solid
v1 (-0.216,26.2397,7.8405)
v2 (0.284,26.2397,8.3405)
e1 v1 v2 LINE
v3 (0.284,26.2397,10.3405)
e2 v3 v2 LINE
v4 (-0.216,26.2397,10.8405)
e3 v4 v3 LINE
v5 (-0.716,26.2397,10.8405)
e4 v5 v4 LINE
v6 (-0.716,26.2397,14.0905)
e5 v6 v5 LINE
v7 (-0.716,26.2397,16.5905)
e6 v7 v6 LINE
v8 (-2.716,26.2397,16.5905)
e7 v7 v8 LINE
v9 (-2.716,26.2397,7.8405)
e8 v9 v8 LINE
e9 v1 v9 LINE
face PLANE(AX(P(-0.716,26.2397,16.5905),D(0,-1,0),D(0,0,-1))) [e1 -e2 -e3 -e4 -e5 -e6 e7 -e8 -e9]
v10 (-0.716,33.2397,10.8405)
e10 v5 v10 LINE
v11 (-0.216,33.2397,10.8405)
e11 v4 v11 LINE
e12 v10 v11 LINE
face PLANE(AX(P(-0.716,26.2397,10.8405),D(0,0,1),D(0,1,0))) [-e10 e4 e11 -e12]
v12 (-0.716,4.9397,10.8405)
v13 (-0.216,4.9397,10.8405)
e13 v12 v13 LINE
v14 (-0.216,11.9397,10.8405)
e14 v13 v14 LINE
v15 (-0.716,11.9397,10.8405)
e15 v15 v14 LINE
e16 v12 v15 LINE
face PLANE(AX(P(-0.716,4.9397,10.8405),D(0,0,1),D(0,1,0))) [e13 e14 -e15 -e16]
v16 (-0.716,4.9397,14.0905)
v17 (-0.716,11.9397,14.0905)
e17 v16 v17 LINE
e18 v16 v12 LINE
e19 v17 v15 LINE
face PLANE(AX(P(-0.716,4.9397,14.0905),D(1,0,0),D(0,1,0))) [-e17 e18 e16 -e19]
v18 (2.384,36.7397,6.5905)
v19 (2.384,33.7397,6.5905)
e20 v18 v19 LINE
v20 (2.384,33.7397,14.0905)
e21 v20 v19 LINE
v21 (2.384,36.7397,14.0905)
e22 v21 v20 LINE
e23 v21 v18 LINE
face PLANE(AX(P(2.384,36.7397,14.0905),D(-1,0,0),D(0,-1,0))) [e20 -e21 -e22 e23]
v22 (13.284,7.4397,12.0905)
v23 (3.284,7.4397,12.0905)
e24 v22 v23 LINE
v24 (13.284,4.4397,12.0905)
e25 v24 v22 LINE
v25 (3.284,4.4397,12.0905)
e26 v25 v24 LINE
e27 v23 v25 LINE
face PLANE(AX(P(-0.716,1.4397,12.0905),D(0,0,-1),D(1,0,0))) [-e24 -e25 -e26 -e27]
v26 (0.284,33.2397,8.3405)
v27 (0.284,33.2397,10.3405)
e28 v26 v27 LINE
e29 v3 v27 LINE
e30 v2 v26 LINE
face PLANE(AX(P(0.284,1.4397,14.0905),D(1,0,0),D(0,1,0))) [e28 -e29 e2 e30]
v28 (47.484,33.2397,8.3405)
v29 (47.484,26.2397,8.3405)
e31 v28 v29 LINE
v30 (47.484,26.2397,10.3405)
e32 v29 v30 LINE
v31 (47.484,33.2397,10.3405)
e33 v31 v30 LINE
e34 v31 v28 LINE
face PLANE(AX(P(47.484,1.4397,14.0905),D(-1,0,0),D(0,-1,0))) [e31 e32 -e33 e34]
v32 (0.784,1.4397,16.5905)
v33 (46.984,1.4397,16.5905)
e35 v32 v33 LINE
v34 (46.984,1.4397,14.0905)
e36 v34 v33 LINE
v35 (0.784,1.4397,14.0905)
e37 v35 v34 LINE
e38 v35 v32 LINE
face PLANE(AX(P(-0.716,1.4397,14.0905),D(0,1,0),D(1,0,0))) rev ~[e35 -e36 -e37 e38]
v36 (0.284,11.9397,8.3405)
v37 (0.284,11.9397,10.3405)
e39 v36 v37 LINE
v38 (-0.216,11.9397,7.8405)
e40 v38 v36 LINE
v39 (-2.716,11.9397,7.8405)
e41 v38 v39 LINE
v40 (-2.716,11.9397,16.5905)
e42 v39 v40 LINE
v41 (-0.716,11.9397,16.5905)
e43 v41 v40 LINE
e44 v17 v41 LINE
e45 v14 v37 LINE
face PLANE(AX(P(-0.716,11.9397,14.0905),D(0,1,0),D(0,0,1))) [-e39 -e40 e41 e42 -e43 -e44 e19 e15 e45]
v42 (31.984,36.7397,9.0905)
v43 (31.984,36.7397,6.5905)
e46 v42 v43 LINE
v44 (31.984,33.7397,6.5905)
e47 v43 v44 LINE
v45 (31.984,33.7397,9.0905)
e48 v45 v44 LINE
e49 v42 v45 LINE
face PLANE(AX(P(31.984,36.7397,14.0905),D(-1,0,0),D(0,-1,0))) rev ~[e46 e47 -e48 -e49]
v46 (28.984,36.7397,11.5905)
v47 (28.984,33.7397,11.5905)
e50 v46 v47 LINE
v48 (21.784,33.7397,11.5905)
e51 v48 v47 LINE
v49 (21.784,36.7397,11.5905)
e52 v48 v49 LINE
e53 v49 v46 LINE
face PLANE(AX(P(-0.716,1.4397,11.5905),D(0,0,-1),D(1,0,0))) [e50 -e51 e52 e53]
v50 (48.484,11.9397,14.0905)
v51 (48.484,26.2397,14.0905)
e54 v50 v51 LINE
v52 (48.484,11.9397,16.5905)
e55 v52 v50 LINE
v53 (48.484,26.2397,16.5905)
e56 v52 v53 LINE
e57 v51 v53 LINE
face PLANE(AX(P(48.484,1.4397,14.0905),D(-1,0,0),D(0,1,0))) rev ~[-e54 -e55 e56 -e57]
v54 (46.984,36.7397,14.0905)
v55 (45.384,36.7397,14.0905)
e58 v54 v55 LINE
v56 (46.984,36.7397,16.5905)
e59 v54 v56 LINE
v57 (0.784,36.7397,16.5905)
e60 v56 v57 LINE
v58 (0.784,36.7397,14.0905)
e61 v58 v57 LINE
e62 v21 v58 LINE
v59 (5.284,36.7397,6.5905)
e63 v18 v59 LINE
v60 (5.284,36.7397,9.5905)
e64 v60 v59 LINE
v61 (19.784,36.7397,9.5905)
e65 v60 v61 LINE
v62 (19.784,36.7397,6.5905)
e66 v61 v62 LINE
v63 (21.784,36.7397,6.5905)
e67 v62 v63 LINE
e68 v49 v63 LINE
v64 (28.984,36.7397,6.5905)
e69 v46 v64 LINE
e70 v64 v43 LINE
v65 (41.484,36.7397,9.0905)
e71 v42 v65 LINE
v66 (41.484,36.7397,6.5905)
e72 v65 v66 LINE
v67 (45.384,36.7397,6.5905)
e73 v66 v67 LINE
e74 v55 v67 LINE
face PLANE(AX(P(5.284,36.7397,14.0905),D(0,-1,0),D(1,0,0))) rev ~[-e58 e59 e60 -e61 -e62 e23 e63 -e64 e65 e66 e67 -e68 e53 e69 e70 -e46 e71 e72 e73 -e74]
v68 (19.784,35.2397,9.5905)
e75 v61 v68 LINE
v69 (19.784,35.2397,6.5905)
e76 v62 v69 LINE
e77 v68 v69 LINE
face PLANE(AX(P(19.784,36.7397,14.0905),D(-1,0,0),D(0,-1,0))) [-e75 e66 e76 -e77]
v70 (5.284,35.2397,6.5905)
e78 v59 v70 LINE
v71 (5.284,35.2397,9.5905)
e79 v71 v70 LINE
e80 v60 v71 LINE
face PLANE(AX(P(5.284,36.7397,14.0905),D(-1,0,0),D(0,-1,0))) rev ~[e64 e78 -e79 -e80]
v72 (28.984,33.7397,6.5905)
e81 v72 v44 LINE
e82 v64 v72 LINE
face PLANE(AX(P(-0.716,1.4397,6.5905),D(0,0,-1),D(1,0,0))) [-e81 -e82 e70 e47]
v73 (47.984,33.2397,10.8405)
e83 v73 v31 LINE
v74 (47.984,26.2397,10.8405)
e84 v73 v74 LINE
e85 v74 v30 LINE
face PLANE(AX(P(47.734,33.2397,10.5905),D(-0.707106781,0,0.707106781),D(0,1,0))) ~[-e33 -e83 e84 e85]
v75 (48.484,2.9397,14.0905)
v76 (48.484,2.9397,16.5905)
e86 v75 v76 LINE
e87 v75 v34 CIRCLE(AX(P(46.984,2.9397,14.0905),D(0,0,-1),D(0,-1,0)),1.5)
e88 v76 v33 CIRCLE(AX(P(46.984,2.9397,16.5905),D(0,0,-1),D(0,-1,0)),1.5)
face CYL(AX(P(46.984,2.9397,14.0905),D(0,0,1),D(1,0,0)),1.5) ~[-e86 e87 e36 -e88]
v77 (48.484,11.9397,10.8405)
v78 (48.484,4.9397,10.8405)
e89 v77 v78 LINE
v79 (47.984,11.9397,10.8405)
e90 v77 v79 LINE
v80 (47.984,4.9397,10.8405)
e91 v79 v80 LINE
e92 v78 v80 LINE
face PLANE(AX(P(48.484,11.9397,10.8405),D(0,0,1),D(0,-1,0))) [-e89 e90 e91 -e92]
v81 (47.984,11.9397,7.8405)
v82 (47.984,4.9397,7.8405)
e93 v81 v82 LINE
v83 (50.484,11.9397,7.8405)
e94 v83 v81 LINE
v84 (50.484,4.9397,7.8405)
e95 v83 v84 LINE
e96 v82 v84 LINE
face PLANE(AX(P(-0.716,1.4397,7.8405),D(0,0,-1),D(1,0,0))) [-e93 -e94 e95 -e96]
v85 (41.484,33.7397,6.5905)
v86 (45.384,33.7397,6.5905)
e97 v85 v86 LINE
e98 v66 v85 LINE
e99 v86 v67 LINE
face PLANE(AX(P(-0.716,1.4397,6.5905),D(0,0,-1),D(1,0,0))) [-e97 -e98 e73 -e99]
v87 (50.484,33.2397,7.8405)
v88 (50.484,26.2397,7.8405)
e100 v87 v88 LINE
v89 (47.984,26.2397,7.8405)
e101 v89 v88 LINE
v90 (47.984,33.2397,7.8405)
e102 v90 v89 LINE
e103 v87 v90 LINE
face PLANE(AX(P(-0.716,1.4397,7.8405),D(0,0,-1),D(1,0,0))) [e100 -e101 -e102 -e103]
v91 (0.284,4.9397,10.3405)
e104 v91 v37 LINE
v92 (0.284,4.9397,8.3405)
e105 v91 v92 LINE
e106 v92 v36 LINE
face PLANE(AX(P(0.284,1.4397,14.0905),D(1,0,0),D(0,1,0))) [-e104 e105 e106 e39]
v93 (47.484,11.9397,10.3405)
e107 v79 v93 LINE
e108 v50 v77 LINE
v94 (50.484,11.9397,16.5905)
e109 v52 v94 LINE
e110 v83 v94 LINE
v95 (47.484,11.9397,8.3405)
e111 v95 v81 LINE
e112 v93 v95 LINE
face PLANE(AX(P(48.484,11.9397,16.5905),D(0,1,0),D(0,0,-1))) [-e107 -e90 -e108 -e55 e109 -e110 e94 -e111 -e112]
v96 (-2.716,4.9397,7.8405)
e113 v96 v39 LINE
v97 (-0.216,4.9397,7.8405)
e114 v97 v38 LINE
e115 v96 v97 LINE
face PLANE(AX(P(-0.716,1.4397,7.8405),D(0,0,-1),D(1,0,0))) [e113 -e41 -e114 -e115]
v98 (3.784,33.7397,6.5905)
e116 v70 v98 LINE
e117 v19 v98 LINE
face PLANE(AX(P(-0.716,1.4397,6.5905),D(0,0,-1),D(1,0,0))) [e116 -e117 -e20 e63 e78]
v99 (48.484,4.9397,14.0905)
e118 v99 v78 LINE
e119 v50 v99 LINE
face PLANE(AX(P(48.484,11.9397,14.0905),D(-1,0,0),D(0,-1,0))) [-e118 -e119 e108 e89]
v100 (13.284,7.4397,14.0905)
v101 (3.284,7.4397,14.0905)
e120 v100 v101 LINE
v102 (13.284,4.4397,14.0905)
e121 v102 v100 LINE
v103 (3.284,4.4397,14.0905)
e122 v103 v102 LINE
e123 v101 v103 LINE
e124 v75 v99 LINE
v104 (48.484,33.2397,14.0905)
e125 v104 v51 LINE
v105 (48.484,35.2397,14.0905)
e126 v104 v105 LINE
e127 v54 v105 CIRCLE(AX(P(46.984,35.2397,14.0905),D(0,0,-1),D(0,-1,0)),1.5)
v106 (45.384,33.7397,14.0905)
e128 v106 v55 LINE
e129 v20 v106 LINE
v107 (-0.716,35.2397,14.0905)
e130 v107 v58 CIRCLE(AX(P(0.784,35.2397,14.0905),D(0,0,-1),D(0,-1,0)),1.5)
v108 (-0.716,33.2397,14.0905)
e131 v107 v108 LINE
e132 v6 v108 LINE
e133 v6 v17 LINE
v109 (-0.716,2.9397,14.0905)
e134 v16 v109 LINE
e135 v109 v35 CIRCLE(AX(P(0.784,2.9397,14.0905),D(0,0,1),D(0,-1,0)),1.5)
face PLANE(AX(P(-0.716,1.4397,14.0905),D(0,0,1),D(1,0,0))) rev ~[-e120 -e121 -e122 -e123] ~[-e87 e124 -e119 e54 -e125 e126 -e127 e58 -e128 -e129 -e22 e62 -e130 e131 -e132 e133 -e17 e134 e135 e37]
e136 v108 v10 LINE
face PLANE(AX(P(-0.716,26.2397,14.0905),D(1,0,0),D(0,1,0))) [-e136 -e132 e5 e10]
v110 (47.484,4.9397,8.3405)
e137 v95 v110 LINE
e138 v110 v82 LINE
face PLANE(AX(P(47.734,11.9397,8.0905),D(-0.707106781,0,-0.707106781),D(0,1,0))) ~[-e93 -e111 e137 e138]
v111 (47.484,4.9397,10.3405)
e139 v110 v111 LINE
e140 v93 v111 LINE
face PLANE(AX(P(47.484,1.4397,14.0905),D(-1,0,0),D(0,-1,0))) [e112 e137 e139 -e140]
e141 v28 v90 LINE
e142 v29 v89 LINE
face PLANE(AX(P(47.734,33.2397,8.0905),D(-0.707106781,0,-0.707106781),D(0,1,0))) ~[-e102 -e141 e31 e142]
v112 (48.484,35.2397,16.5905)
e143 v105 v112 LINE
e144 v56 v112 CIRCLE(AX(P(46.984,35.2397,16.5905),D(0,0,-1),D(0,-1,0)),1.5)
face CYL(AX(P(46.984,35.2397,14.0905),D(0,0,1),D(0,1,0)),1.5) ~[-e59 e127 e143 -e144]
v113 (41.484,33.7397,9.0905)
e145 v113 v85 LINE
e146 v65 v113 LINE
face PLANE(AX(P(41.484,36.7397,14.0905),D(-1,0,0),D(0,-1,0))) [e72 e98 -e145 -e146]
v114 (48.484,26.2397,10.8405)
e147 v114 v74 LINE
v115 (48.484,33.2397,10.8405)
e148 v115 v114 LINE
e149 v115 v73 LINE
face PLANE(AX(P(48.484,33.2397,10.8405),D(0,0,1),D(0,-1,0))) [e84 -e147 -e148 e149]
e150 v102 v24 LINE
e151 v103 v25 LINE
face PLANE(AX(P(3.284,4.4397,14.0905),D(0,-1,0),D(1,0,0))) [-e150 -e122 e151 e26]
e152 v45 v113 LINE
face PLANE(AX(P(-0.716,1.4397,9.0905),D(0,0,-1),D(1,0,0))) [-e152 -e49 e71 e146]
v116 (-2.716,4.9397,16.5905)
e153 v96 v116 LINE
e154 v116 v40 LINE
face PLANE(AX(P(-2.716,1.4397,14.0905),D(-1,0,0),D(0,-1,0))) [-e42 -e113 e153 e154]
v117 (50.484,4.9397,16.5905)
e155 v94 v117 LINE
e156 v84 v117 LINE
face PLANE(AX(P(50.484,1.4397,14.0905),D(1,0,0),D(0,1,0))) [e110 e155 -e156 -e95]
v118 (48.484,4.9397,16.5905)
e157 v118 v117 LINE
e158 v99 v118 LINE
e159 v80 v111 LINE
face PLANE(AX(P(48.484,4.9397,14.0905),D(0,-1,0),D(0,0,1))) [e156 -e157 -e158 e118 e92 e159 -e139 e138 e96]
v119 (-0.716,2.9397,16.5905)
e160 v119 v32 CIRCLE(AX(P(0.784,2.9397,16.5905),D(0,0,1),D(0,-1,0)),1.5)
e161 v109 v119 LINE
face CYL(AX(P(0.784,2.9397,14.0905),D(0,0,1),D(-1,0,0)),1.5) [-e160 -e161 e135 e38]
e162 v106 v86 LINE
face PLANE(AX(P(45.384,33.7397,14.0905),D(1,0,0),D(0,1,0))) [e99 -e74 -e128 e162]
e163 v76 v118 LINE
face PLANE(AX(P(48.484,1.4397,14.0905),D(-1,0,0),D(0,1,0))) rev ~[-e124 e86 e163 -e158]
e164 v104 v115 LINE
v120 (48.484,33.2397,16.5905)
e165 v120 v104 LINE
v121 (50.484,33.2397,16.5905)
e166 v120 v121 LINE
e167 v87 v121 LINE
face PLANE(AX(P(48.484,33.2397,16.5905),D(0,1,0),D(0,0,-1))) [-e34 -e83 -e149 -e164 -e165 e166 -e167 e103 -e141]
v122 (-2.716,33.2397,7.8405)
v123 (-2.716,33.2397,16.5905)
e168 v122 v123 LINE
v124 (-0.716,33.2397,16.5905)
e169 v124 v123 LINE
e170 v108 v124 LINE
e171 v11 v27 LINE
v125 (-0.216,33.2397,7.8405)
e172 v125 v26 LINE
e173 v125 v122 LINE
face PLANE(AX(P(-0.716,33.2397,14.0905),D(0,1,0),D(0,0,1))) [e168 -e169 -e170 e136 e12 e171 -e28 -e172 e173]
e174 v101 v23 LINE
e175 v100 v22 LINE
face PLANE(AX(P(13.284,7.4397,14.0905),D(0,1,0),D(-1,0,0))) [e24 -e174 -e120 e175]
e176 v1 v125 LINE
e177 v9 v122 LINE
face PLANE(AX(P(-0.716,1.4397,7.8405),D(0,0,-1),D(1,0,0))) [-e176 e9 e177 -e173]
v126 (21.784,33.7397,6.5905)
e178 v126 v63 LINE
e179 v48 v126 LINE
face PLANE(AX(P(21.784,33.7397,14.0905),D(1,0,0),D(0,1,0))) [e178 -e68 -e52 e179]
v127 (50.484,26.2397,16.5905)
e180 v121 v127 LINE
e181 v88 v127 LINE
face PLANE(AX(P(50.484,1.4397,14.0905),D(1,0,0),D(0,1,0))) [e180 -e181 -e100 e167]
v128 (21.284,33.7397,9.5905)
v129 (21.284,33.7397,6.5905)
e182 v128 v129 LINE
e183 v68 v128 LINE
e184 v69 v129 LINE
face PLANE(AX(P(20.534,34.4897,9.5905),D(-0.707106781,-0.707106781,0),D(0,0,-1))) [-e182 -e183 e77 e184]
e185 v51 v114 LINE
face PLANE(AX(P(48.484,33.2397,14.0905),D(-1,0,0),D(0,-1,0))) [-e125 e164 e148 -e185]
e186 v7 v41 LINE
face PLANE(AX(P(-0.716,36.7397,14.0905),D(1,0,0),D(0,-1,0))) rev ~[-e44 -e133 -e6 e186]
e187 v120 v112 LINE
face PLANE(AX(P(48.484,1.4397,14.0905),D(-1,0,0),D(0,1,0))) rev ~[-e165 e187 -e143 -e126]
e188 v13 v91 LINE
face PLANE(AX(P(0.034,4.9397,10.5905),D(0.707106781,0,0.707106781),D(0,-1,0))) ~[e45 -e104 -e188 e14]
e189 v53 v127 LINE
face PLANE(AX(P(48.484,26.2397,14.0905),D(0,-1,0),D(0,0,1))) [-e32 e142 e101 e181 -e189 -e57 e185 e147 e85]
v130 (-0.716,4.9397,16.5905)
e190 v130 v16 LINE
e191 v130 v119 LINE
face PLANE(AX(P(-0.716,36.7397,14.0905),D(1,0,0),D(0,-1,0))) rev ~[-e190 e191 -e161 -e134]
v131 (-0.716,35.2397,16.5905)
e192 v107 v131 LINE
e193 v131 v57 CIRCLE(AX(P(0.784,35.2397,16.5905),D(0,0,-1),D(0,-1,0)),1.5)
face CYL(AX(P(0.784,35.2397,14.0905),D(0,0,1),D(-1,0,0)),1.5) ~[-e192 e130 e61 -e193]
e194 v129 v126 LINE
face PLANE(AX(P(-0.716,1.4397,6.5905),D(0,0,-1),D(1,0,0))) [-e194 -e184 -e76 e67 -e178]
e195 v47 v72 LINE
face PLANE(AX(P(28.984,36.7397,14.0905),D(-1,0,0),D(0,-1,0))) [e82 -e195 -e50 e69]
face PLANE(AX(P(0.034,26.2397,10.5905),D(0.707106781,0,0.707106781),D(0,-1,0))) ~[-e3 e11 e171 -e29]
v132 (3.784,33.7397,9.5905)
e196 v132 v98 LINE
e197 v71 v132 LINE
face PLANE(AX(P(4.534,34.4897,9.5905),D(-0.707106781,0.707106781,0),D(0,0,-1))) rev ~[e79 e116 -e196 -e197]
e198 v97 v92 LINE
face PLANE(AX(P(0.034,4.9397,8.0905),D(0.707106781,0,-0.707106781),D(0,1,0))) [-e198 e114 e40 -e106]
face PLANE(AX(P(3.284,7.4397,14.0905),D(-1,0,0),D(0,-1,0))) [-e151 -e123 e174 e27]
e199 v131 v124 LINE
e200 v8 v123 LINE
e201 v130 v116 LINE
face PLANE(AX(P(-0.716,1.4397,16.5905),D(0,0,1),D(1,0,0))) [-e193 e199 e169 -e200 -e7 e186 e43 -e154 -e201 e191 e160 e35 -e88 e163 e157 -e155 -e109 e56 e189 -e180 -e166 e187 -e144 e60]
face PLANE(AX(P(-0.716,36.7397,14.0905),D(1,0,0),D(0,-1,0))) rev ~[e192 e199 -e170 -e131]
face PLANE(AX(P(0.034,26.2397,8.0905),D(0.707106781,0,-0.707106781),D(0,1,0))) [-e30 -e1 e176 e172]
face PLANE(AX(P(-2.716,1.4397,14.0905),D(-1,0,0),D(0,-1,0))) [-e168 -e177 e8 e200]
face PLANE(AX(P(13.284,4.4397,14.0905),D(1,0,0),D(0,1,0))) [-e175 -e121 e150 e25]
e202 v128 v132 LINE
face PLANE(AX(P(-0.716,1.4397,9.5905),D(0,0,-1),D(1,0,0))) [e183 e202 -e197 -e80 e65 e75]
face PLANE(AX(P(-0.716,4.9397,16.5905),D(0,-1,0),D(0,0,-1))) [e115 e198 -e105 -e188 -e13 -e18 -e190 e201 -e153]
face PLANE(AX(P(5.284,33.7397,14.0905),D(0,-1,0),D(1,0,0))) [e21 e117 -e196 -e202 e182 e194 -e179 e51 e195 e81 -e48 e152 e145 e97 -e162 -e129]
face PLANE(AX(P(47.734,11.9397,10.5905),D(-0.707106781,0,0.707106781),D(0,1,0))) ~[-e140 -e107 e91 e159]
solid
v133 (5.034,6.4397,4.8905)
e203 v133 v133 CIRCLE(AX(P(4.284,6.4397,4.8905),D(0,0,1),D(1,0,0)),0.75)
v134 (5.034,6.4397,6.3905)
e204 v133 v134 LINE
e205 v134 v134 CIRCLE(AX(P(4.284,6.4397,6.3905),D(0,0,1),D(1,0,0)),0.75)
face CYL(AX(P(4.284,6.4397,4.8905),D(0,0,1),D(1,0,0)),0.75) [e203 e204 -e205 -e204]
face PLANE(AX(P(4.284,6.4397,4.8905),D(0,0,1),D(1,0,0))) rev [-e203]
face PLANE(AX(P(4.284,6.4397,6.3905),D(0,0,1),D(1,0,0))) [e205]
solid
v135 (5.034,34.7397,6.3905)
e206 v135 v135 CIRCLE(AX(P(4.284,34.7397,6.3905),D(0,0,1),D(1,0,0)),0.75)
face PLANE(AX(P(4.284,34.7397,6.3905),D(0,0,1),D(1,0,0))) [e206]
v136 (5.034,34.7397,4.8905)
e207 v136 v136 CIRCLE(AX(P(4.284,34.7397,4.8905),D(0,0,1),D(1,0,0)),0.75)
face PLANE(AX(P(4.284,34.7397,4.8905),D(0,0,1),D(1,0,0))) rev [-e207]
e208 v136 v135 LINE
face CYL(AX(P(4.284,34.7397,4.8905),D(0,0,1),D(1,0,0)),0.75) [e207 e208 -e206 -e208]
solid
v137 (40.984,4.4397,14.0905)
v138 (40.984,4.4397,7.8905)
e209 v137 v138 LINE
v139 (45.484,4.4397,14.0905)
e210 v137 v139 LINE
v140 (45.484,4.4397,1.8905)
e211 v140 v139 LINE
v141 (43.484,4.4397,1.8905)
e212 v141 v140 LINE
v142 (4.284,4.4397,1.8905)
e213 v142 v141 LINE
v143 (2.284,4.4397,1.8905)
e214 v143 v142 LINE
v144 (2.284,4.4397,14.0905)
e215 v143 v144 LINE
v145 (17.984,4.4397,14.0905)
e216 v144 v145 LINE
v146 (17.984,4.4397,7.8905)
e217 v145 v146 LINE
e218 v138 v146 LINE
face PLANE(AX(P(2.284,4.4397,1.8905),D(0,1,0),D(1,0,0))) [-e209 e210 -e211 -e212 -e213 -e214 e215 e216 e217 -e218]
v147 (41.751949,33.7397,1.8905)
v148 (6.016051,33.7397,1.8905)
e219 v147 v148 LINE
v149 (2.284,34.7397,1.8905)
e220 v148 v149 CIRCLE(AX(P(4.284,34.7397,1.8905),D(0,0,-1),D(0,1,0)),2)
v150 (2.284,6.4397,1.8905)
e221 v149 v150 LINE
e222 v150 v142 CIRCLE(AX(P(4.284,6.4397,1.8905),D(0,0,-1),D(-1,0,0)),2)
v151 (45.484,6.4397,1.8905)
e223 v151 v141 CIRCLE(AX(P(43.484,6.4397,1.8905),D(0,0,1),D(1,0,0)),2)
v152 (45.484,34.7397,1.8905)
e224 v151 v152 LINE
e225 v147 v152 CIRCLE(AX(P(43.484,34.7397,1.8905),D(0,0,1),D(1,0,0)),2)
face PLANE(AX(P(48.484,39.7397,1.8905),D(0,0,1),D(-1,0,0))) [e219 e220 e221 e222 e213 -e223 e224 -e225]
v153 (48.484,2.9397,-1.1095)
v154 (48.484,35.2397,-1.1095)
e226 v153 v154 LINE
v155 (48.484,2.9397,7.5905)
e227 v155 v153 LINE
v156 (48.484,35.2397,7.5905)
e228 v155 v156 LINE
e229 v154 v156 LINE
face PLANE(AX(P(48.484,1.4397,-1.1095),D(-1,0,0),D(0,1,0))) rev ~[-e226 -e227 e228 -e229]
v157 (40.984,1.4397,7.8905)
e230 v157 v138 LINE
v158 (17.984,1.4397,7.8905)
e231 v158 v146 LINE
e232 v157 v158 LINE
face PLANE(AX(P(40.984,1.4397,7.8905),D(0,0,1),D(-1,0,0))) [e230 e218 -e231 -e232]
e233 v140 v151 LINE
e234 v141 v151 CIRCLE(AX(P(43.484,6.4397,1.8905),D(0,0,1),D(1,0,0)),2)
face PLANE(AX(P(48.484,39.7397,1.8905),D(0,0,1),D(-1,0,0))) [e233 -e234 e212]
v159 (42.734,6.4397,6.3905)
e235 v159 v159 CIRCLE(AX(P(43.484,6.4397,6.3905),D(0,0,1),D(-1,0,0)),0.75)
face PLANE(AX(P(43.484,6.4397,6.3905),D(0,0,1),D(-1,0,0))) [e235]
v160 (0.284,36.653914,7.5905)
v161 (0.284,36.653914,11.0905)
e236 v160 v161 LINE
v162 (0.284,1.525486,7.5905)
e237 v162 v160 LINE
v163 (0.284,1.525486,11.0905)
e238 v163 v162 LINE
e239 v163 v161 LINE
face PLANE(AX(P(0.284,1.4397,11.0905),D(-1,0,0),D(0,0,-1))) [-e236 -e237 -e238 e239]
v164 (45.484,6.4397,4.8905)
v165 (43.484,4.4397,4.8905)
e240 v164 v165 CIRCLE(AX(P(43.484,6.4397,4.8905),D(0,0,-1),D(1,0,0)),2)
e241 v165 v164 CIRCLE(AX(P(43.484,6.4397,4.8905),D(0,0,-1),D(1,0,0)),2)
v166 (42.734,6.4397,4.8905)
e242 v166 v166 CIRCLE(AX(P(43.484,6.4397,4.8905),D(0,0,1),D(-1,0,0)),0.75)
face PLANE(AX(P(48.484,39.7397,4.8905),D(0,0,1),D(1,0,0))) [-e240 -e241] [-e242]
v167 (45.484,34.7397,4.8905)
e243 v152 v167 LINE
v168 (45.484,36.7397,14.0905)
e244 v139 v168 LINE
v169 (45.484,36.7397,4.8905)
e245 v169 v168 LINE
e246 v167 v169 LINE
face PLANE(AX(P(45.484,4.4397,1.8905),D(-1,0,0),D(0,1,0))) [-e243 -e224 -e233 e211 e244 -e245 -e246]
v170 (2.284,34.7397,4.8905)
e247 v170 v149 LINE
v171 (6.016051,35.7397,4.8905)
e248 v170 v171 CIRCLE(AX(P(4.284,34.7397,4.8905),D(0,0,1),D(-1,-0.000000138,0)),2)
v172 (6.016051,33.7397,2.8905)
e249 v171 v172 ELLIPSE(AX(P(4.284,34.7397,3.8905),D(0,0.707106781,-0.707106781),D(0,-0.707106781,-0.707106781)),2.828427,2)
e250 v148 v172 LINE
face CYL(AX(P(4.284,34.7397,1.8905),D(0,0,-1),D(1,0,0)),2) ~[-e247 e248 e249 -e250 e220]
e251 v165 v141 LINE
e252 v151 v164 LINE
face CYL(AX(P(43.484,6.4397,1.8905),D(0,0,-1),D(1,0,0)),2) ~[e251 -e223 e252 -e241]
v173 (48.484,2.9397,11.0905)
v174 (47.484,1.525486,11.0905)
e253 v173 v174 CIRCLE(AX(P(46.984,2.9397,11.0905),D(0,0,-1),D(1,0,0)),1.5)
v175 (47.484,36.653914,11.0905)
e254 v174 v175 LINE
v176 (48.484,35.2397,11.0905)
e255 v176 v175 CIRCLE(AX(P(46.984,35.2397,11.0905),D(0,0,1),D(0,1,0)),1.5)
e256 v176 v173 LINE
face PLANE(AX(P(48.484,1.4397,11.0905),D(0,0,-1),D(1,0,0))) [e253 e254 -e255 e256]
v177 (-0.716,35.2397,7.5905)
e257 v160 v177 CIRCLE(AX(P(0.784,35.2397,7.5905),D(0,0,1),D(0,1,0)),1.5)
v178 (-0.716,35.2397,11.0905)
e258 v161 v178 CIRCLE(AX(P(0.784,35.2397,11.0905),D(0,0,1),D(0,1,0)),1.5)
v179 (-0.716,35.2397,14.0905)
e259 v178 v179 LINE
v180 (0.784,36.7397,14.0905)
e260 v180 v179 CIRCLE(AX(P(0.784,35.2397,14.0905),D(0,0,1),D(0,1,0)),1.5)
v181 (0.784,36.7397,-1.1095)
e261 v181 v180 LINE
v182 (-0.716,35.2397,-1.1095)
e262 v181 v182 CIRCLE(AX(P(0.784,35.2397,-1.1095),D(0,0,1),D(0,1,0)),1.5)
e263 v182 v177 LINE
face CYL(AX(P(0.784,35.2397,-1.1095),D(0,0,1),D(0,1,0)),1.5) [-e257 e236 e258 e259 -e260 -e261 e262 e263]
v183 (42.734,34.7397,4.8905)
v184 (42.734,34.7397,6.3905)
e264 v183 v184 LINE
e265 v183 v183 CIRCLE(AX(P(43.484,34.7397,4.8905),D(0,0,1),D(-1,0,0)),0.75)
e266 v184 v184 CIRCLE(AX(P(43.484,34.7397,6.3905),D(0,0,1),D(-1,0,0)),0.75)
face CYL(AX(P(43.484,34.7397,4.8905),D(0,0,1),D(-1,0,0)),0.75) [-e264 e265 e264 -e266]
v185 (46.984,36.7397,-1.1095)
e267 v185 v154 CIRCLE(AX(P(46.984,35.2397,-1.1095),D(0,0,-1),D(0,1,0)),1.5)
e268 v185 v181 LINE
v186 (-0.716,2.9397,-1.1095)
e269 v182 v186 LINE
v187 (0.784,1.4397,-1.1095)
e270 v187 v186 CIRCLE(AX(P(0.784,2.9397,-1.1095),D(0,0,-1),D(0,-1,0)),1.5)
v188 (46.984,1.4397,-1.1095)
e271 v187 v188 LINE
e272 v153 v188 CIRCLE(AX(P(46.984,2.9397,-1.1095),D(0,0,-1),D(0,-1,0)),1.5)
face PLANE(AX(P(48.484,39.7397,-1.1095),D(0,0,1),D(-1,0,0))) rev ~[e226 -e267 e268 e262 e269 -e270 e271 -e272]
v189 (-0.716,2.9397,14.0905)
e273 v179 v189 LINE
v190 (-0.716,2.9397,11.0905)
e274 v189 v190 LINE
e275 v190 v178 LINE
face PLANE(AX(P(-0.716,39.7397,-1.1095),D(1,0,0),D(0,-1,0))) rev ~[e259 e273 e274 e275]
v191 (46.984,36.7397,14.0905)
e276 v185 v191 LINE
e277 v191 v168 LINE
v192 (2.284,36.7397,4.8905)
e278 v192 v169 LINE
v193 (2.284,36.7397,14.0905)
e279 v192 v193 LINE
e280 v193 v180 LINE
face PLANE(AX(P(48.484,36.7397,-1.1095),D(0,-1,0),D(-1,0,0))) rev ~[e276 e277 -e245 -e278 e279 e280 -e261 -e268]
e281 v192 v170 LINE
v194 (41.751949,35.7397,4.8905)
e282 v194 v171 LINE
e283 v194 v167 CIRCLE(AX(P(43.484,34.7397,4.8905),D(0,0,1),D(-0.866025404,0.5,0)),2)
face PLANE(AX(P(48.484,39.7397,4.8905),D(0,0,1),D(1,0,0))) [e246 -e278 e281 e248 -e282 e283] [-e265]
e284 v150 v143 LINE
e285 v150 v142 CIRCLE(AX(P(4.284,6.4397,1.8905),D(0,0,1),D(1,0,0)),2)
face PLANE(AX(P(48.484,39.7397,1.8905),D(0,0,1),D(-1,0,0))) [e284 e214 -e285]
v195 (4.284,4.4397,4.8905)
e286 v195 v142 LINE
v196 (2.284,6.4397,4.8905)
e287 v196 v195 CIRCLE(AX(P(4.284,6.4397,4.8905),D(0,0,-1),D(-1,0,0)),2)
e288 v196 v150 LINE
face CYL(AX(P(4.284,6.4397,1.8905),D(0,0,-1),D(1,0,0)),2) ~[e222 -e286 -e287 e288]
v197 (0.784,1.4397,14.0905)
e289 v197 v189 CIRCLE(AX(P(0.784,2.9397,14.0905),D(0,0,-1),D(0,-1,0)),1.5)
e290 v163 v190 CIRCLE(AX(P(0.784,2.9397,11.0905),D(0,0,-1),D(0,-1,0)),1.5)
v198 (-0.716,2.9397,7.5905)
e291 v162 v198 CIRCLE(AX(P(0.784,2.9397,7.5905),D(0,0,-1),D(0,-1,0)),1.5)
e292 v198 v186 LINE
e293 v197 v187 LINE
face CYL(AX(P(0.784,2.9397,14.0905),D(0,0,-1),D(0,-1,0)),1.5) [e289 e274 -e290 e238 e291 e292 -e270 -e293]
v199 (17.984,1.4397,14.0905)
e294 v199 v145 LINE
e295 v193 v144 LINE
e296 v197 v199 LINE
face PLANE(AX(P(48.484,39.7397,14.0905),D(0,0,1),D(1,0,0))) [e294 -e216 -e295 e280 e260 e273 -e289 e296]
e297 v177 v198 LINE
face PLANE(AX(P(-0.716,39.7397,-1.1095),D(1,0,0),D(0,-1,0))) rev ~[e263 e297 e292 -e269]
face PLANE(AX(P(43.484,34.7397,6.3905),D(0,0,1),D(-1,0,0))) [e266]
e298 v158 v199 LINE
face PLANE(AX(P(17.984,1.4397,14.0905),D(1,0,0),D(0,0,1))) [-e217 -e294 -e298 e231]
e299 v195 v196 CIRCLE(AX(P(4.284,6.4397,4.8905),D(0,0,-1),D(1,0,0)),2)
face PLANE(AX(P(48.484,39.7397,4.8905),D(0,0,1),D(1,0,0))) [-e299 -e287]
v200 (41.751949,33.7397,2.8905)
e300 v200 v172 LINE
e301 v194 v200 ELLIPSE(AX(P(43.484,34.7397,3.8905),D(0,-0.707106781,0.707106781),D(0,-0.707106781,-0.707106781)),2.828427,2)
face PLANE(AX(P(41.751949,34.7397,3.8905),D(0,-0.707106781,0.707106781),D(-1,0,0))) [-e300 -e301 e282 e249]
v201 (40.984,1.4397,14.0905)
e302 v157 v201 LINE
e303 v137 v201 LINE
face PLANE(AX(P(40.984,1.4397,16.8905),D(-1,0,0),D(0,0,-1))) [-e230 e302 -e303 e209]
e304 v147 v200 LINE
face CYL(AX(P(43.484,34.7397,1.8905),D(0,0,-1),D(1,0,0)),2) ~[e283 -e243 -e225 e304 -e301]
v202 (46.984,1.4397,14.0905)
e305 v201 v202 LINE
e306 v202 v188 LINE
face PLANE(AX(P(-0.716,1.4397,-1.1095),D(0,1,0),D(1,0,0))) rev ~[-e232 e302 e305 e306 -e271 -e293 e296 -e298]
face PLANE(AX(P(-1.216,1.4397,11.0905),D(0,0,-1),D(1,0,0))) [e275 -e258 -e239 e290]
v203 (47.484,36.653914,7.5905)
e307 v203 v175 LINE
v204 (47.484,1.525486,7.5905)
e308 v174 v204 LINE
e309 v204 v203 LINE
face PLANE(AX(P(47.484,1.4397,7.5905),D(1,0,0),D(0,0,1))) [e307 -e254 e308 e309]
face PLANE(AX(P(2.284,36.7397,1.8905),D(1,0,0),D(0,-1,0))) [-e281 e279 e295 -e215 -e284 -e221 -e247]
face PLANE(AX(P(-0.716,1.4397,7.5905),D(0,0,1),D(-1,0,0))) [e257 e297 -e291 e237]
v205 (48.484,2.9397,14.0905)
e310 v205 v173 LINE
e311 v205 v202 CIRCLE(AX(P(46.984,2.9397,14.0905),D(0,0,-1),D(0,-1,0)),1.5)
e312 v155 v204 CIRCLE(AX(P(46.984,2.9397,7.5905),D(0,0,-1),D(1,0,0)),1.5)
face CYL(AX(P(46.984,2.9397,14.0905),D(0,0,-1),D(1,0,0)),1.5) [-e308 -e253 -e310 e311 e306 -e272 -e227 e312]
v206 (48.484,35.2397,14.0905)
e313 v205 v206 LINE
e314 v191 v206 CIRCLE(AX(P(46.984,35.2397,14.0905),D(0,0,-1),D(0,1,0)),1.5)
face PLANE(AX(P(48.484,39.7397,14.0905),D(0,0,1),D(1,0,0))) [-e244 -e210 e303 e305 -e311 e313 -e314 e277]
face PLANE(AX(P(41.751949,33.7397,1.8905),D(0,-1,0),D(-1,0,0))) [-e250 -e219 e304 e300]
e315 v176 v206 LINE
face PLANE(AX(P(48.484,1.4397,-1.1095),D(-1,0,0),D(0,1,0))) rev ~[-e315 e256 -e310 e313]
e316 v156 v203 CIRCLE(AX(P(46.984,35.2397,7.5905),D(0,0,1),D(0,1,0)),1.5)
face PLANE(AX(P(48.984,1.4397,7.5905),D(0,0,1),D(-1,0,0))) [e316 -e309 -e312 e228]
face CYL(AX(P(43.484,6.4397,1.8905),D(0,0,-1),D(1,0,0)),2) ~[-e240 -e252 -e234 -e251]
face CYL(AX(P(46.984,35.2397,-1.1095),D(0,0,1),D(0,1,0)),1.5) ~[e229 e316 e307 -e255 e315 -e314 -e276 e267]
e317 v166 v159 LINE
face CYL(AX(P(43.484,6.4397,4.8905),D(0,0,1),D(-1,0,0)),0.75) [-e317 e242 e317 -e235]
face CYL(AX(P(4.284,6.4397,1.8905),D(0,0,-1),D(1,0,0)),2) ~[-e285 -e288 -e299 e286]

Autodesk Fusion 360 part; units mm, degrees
sketch "Sketch1" plane through (0, 0, 0) normal (0, 0, 1) x (1, 0, 0) in component "bottom"
  line L0 (0, 0) -> (49.2, 0)
  line L1 (49.2, 0) -> (49.2, 38.3)
  line L2 (49.2, 38.3) -> (0, 38.3)
  line L3 (0, 38.3) -> (0, 0)
  dimension "d6" = 38.3
  dimension "d7" = 49.2
extrude "Extrude1" add sketch "Sketch1" along normal blind 3 makes body 1 in component "bottom"
sketch "Sketch2" plane through (0, 0, 3) normal (0, 0, 1) x (-1, 0, 0) in component "bottom"
  line L0 (0, -38.3) -> (0, 0)
  line L1 (0, 0) -> (-49.2, 0)
  line L2 (-49.2, 0) -> (-49.2, -38.3)
  line L3 (-49.2, -38.3) -> (0, -38.3)
  line L4 (-46.2, -3) -> (-46.2, -35.3)
  line L5 (-46.2, -35.3) -> (-3, -35.3)
  line L6 (-3, -35.3) -> (-3, -3)
  line L7 (-3, -3) -> (-46.2, -3)
extrude "Extrude2" add sketch "Sketch2" along normal blind 12.2 bodies 1 in component "bottom"
sketch "Sketch3" plane through (0, 0, 0) normal (0, -1, 0) x (1, 0, 0) in component "bottom"
  line L0 (0, 0) -> (49.2, 0)
  line L1 (49.2, 0) -> (49.2, 15.2)
  line L2 (49.2, 15.2) -> (0, 15.2)
  line L3 (0, 15.2) -> (0, 0)
  line L4 (29.1, 10.2) -> (44.1, 10.2)
  line L5 (44.1, 10.2) -> (44.1, 7.2)
  line L6 (44.1, 7.2) -> (29.1, 7.2)
  line L7 (29.1, 7.2) -> (29.1, 10.2)
  line L8 (19.6, 12.2) -> (26.1, 12.2)
  line L9 (26.1, 12.2) -> (26.1, 7.2)
  line L10 (26.1, 7.2) -> (19.6, 7.2)
  line L11 (19.6, 7.2) -> (19.6, 12.2)
  line L12 (7.1, 10.2) -> (16.1, 10.2)
  line L13 (16.1, 10.2) -> (16.1, 7.2)
  line L14 (16.1, 7.2) -> (7.1, 7.2)
  line L15 (7.1, 7.2) -> (7.1, 10.2)
  dimension "d13" = 5.1
  dimension "d14" = 7.2
  dimension "d15" = 3
  dimension "d16" = 15
  dimension "d17" = 23.1
  dimension "d18" = 6.5
  dimension "d20" = 7.1
  dimension "d21" = 9
  dimension "d22" = 3
  dimension "d44" = 5
extrude "Extrude3" cut sketch "Sketch3" against normal blind 3 contours L4 L5 L6 L7 | L8 L9 L10 L11 | L12 L13 L14 L15 bodies 1 in component "bottom"
sketch "Sketch4" plane through (0, 0, 3) normal (0, 0, 1) x (-1, 0, 0) in component "bottom"
  line L0 (-46.2, -3) -> (-46.2, -35.3)
  line L1 (-46.2, -35.3) -> (-3, -35.3)
  line L2 (-3, -35.3) -> (-3, -3)
  line L3 (-3, -3) -> (-46.2, -3)
  line L4 (-5, -5) -> (-44.2, -5) construction
  line L5 (-44.2, -5) -> (-44.2, -33.3) construction
  line L6 (-44.2, -33.3) -> (-5, -33.3) construction
  line L7 (-5, -33.3) -> (-5, -5) construction
  circle A0 centre (-5, -33.3) radius 2
  circle A1 centre (-44.2, -33.3) radius 2
  circle A2 centre (-44.2, -5) radius 2
  circle A3 centre (-5, -5) radius 2
  line L8 (-3, -6) -> (-46.2, -6)
  line L9 (-46.2, -6) -> (-46.2, -3)
  line L10 (-46.2, -3) -> (-3, -3)
  line L11 (-3, -3) -> (-3, -6)
  dimension "d25" = -2
  dimension "d26" = 4
  dimension "d27" = 4
  dimension "d28" = 4
  dimension "d29" = 4
  dimension "d78" = 3
extrude "Extrude4" add sketch "Sketch4" along normal blind 3 contours A2 L8 | A2 L8 | A3 L8 | A1 | A3 L8 | A0 bodies 1 in component "bottom"
extrude "Extrude7" cut 1 faces at (22.9333, 0, 2.4) along direction (0, 1, 0) blind 3 on bodies 1 bodies 1 in component "bottom"
extrude "Extrude9" add sketch "Sketch4" along normal up to surface (3 mm away) contours L0 L3 A2 L9 L10 | L3 A2 A3 L8 L10 | L2 L3 A3 L10 L11 bodies 1 in component "bottom"
chamfer "Chamfer1" distance 2 angle 45 1 edges at (24.6, 6, 6) on bodies 1 in component "bottom"
fillet "Fillet1" radius 1.5 1 edges at (0, 3, 7.6) on bodies 1 in component "bottom"
fillet "Fillet2" radius 1.5 1 edges at (49.2, 3, 7.6) on bodies 1 in component "bottom"
fillet "Fillet3" radius 1.5 1 edges at (0, 38.3, 7.6) on bodies 1 in component "bottom"
fillet "Fillet4" radius 1.5 1 edges at (49.2, 38.3, 7.6) on bodies 1 in component "bottom"
sketch "Sketch5" plane through (0, 38.3, 0) normal (0, 1, 0) x (-1, 0, 0) in component "bottom"
  line L0 (-47.7, 15.2) -> (-47.7, 0)
  line L1 (-47.7, 0) -> (-1.5, 0)
  line L2 (-1.5, 0) -> (-1.5, 15.2)
  line L3 (-1.5, 15.2) -> (-47.7, 15.2)
  line L4 (-30.5, 18) -> (-7.5, 18)
  line L5 (-7.5, 18) -> (-7.5, 9)
  line L6 (-7.5, 9) -> (-30.5, 9)
  line L7 (-30.5, 9) -> (-30.5, 18)
  line L8 (-49.7, 12.2) -> (-48.2, 12.2)
  line L9 (-48.2, 12.2) -> (-48.2, 8.7)
  line L10 (-48.2, 8.7) -> (-49.7, 8.7)
  line L11 (-49.7, 8.7) -> (-49.7, 12.2)
  line L12 (-49.2, 0) -> (-49.2, 15.2)
  line L13 (0, 15.2) -> (0, 0)
  line L14 (-1, 12.2) -> (0.5, 12.2)
  line L15 (0.5, 12.2) -> (0.5, 8.7)
  line L16 (0.5, 8.7) -> (-1, 8.7)
  line L17 (-1, 8.7) -> (-1, 12.2)
  line L18 (-49.2, 15.2) -> (-49.2, 0)
  line L19 (0, 0) -> (0, 15.2)
  line L20 (-3, 6) -> (-7, 6)
  line L21 (-3, 6) -> (-5, 6)
  dimension "d45" = 6
  dimension "d46" = 23
  dimension "d47" = 9
  dimension "d60" = 3.5
  dimension "d61" = 3
  dimension "d62" = 1.5
  dimension "d64" = 1.5
  dimension "d65" = 3
  dimension "d66" = 3.5
  dimension "d83" = 1
  dimension "d84" = 1
  dimension "d213" = 9
extrude "Extrude5" cut sketch "Sketch5" against normal blind 3 contours L3 L4 L5 L7 | L3 L5 L6 L7 bodies 1 in component "bottom"
cylinder "CylinderPrimitive5" add diameter 1.5 height 1.5 placed x (1, 0, 0) y (0, 1, 0) z (0, 0, 1) at (5, 33.3, 6) bodies 1 in component "bottom"
cylinder "CylinderPrimitive8" add diameter 1.5 height 1.5 placed x (1, 0, 0) y (0, 1, 0) z (0, 0, 1) at (5, 5, 6) bodies 1 in component "bottom"
extrude "Extrude6" cut sketch "Sketch5" against normal through all contours L8 L10 L11 L12 L18 | L8 L9 L10 L12 L18 | L13 L14 L15 L16 L19 | L13 L14 L16 L17 L19 bodies 1 in component "bottom"
sketch "Sketch1 (2)" plane through (0, 0, 0) normal (0, 0, 1) x (1, 0, 0) in component "lid"
  line L0 (0, 0) -> (49.2, 0)
  line L1 (49.2, 0) -> (49.2, 35.3)
  line L2 (0, 35.3) -> (0, 0)
  line L3 (49.2, 35.3) -> (0, 35.3)
  dimension "d218" = 49.2
  dimension "d219" = 35.3
extrude "Extrude1'" add sketch "Sketch1 (2)" along normal blind 2.5 separate body makes body 2 in component "lid"
fillet "Fillet1'" radius 1.5 4 edges at (49.2, 0, 1.25) (49.2, 35.3, 1.25) (0, 35.3, 1.25) (0, 0, 1.25) on bodies 2 in component "lid"
sketch "Sketch2 (2)" plane through (49.2, 0, 0) normal (1, 0, 0) x (0, 1, 0) in component "lid"
  line L0 (33.8, 0) -> (33.8, 2.5)
  line L1 (33.8, 2.5) -> (1.5, 2.5)
  line L2 (1.5, 2.5) -> (1.5, 0)
  line L3 (1.5, 0) -> (33.8, 0)
  line L4 (3.5, 2.5) -> (10.5, 2.5)
  line L5 (10.5, 2.5) -> (10.5, 0)
  line L6 (10.5, 0) -> (3.5, 0)
  line L7 (3.5, 0) -> (3.5, 2.5)
  line L8 (24.8, 2.5) -> (31.8, 2.5)
  line L9 (31.8, 2.5) -> (31.8, 0)
  line L10 (31.8, 0) -> (24.8, 0)
  line L11 (24.8, 0) -> (24.8, 2.5)
  dimension "d224" = 2
  dimension "d225" = 7
  dimension "d226" = 2
  dimension "d227" = 7
sketch "Sketch3 (2)" plane through (0, 0, 0) normal (-1, 0, 0) x (0, -1, 0) in component "lid"
  line L0 (-1.5, 0) -> (-1.5, 2.5)
  line L1 (-1.5, 2.5) -> (-33.8, 2.5)
  line L2 (-33.8, 2.5) -> (-33.8, 0)
  line L3 (-33.8, 0) -> (-1.5, 0)
  line L4 (-31.8, 2.5) -> (-24.8, 2.5)
  line L5 (-24.8, 2.5) -> (-24.8, 0)
  line L6 (-24.8, 0) -> (-31.8, 0)
  line L7 (-31.8, 0) -> (-31.8, 2.5)
  line L8 (-10.5, 2.5) -> (-3.5, 2.5)
  line L9 (-3.5, 2.5) -> (-3.5, 0)
  line L10 (-3.5, 0) -> (-10.5, 0)
  line L11 (-10.5, 0) -> (-10.5, 2.5)
  line L12 (-31.8, 0) -> (-24.8, 0)
  line L13 (-24.8, 2.5) -> (-31.8, 2.5)
  dimension "d228" = 2
  dimension "d229" = 7
  dimension "d230" = 7
  dimension "d231" = 2
extrude "Extrude2'" add sketch "Sketch2 (2)" along normal blind 2 contours L1 L3 L8 L9 L10 L11 | L1 L3 L4 L5 L6 L7 bodies 2 in component "lid"
extrude "Extrude3'" add sketch "Sketch3 (2)" along normal blind 2 contours L1 L3 L8 L9 L10 L11 | L1 L3 L4 L5 L6 L7 L12 L13 bodies 2 in component "lid"
sketch "Sketch4 (2)" plane through (0, 0, 0) normal (0, 0, -1) x (1, 0, 0) in component "lid"
  arc A0 (1.5, 0) -> (0, -1.5) centre (1.5, -1.5) ccw
  line L0 (0, -1.5) -> (0, -3.5)
  line L1 (0, -3.5) -> (-2, -3.5)
  line L2 (-2, -3.5) -> (-2, -10.5)
  line L3 (-2, -10.5) -> (0, -10.5)
  line L4 (0, -10.5) -> (0, -24.8)
  line L5 (0, -24.8) -> (-2, -24.8)
  line L6 (-2, -24.8) -> (-2, -31.8)
  line L7 (-2, -31.8) -> (0, -31.8)
  line L8 (0, -31.8) -> (0, -33.8)
  arc A1 (0, -33.8) -> (1.5, -35.3) centre (1.5, -33.8) ccw
  line L9 (1.5, -35.3) -> (47.7, -35.3)
  arc A2 (47.7, -35.3) -> (49.2, -33.8) centre (47.7, -33.8) ccw
  line L10 (49.2, -33.8) -> (49.2, -31.8)
  line L11 (49.2, -31.8) -> (51.2, -31.8)
  line L12 (51.2, -31.8) -> (51.2, -24.8)
  line L13 (51.2, -24.8) -> (49.2, -24.8)
  line L14 (49.2, -24.8) -> (49.2, -10.5)
  line L15 (49.2, -10.5) -> (51.2, -10.5)
  line L16 (51.2, -10.5) -> (51.2, -3.5)
  line L17 (51.2, -3.5) -> (49.2, -3.5)
  line L18 (49.2, -3.5) -> (49.2, -1.5)
  arc A3 (49.2, -1.5) -> (47.7, 0) centre (47.7, -1.5) ccw
  line L19 (47.7, 0) -> (1.5, 0)
  line L20 (49.2, -24.8) -> (51.2, -24.8)
  line L21 (51.2, -24.8) -> (51.2, -31.8)
  line L22 (51.2, -31.8) -> (49.2, -31.8)
  line L23 (49.2, -31.8) -> (49.2, -24.8)
  line L24 (49.2, -3.5) -> (51.2, -3.5)
  line L25 (51.2, -3.5) -> (51.2, -10.5)
  line L26 (51.2, -10.5) -> (49.2, -10.5)
  line L27 (49.2, -10.5) -> (49.2, -3.5)
  line L28 (-2, -3.5) -> (0, -3.5)
  line L29 (0, -3.5) -> (0, -10.5)
  line L30 (0, -10.5) -> (-2, -10.5)
  line L31 (-2, -10.5) -> (-2, -3.5)
  line L32 (-2, -24.8) -> (0, -24.8)
  line L33 (0, -24.8) -> (0, -31.8)
  line L34 (0, -31.8) -> (-2, -31.8)
  line L35 (-2, -31.8) -> (-2, -24.8)
extrude "Extrude4'" add sketch "Sketch4 (2)" along normal blind 6.25 contours L1 L2 L3 L28 L29 L30 L31 | L15 L16 L17 L24 L25 L26 L27 | L5 L6 L7 L32 L33 L34 L35 | L11 L12 L13 L20 L21 L22 L23 bodies 2 in component "lid"
sketch "Sketch15" plane through (49.2, 0, 0) normal (-1, 0, 0) x (0, -1, 0)
  line L0 (-24.8, 0) -> (-31.8, 0)
  line L1 (-31.8, 0) -> (-31.8, -6.25)
  line L2 (-31.8, -6.25) -> (-24.8, -6.25)
  line L3 (-24.8, -6.25) -> (-24.8, 0)
  line L4 (-31.8, -3.25) -> (-24.8, -3.25)
  line L5 (-24.8, -3.25) -> (-24.8, -6.25)
  line L6 (-24.8, -6.25) -> (-31.8, -6.25)
  line L7 (-31.8, -6.25) -> (-31.8, -3.25)
  dimension "d238" = 3
sketch "Sketch16" plane through (49.2, 0, 0) normal (-1, 0, 0) x (0, -1, 0)
  line L0 (-3.5, 0) -> (-10.5, 0)
  line L1 (-10.5, 0) -> (-10.5, -6.25)
  line L2 (-10.5, -6.25) -> (-3.5, -6.25)
  line L3 (-3.5, -6.25) -> (-3.5, 0)
  line L4 (-10.5, -3.25) -> (-3.5, -3.25)
  line L5 (-3.5, -3.25) -> (-3.5, -6.25)
  line L6 (-3.5, -6.25) -> (-10.5, -6.25)
  line L7 (-10.5, -6.25) -> (-10.5, -3.25)
  dimension "d239" = 3
sketch "Sketch17" plane through (0, 0, 0) normal (1, 0, 0) x (0, 1, 0)
  line L0 (31.8, 0) -> (24.8, 0)
  line L1 (24.8, 0) -> (24.8, -6.25)
  line L2 (24.8, -6.25) -> (31.8, -6.25)
  line L3 (31.8, -6.25) -> (31.8, 0)
  line L4 (24.8, -3.25) -> (31.8, -3.25)
  line L5 (31.8, -3.25) -> (31.8, -6.25)
  line L6 (31.8, -6.25) -> (24.8, -6.25)
  line L7 (24.8, -6.25) -> (24.8, -3.25)
  dimension "d240" = 3
sketch "Sketch18" plane through (0, 0, 0) normal (1, 0, 0) x (0, 1, 0)
  line L0 (10.5, 0) -> (3.5, 0)
  line L1 (3.5, 0) -> (3.5, -6.25)
  line L2 (3.5, -6.25) -> (10.5, -6.25)
  line L3 (10.5, -6.25) -> (10.5, 0)
  line L4 (3.5, -3.25) -> (10.5, -3.25)
  line L5 (10.5, -3.25) -> (10.5, -6.25)
  line L6 (10.5, -6.25) -> (3.5, -6.25)
  line L7 (3.5, -6.25) -> (3.5, -3.25)
  dimension "d241" = 3
extrude "Extrude5'" add sketch "Sketch15" sketch "Sketch16" along normal blind 1 contours L1 L2 L3 L4 L5 L6 L7 of sketch 2 contours L1 L2 L3 L4 L5 L6 L7 bodies 2 in component "lid"
extrude "Extrude6'" add sketch "Sketch17" sketch "Sketch18" along normal blind 1 contours L1 L2 L3 L4 L5 L6 L7 of sketch 2 contours L1 L2 L3 L4 L5 L6 L7 bodies 2 in component "lid"
chamfer "Chamfer1'" distance 0.5 angle 45 8 edges at (48.2, 28.3, -3.25) (48.2, 28.3, -6.25) (48.2, 7, -3.25) (48.2, 7, -6.25) (1, 7, -3.25) (1, 7, -6.25) (1, 28.3, -3.25) (1, 28.3, -6.25) on bodies 2 in component "lid"
move_body "Move1" bodies 1 to x (-1, 0, 0) y (0, -1, 0) z (0, 0, 1) at (48.2, 40.3, 0) in component "bottom"
cylinder "CylinderPrimitive11" add diameter 1.5 height 1.5 placed x (1, 0, 0) y (0, 1, 0) z (0, 0, 1) at (4, 7, 6) separate body makes body 3 in component "bottom"
cylinder "CylinderPrimitive12" add diameter 1.5 height 1.5 placed x (1, 0, 0) y (0, 1, 0) z (0, 0, 1) at (4, 35.3, 6) separate body makes body 4 in component "bottom"
sketch "Sketch5 (2)" plane through (0, 0, 0) normal (0, 0, -1) x (1, 0, 0) in component "lid"
  line L0 (49.2, -31.8) -> (49.2, -24.8)
  line L1 (49.2, -24.8) -> (49.2, -10.5)
  line L2 (49.2, -10.5) -> (49.2, -3.5)
  line L3 (49.2, -3.5) -> (49.2, -1.5)
  arc A0 (49.2, -1.5) -> (47.7, 0) centre (47.7, -1.5) ccw
  line L4 (47.7, 0) -> (1.5, 0)
  arc A1 (1.5, 0) -> (0, -1.5) centre (1.5, -1.5) ccw
  line L5 (0, -1.5) -> (0, -3.5)
  line L6 (0, -3.5) -> (0, -10.5)
  line L7 (0, -10.5) -> (0, -24.8)
  line L8 (0, -24.8) -> (0, -31.8)
  line L9 (0, -31.8) -> (0, -33.8)
  arc A2 (0, -33.8) -> (1.5, -35.3) centre (1.5, -33.8) ccw
  line L10 (1.5, -35.3) -> (47.7, -35.3)
  arc A3 (47.7, -35.3) -> (49.2, -33.8) centre (47.7, -33.8) ccw
  line L11 (49.2, -33.8) -> (49.2, -31.8)
  line L12 (46.1, -35.3) -> (42.2, -35.3)
  line L13 (42.2, -35.3) -> (42.2, -32.3)
  line L14 (42.2, -32.3) -> (46.1, -32.3)
  line L15 (46.1, -32.3) -> (46.1, -35.3)
  line L16 (42.2, -35.3) -> (32.7, -35.3)
  line L17 (32.7, -35.3) -> (32.7, -32.3)
  line L18 (32.7, -32.3) -> (42.2, -32.3)
  line L19 (42.2, -32.3) -> (42.2, -35.3)
  line L20 (32.7, -35.3) -> (29.7, -35.3)
  line L21 (29.7, -35.3) -> (29.7, -32.3)
  line L22 (29.7, -32.3) -> (32.7, -32.3)
  line L23 (32.7, -32.3) -> (32.7, -35.3)
  line L24 (22.5, -35.3) -> (20.5, -35.3)
  line L25 (20.5, -35.3) -> (20.5, -32.3)
  line L26 (20.5, -32.3) -> (22.5, -32.3)
  line L27 (22.5, -32.3) -> (22.5, -35.3)
  line L28 (20.5, -35.3) -> (6, -35.3)
  line L29 (6, -35.3) -> (6, -32.3)
  line L30 (6, -32.3) -> (20.5, -32.3)
  line L31 (20.5, -32.3) -> (20.5, -35.3)
  line L32 (6, -35.3) -> (3.1, -35.3)
  line L33 (3.1, -35.3) -> (3.1, -32.3)
  line L34 (3.1, -32.3) -> (6, -32.3)
  line L35 (6, -32.3) -> (6, -35.3)
  line L36 (29.7, -35.3) -> (22.5, -35.3)
  line L37 (22.5, -35.3) -> (22.5, -32.3)
  line L38 (22.5, -32.3) -> (29.7, -32.3)
  line L39 (29.7, -32.3) -> (29.7, -35.3)
  line L40 (14, -6) -> (4, -6)
  line L41 (4, -6) -> (4, -3)
  line L42 (4, -3) -> (14, -3)
  line L43 (14, -3) -> (14, -6)
  dimension "d305" = 3.1
  dimension "d306" = 3
  dimension "d307" = 3.9
  dimension "d308" = 9.5
  dimension "d309" = 3
  dimension "d310" = 3.1
  dimension "d311" = 2.9
  dimension "d312" = 14.5
  dimension "d313" = 2
  dimension "d315" = 10
  dimension "d316" = 3
  dimension "d317" = 3
  dimension "d319" = 4
extrude "Extrude12" add sketch "Sketch5 (2)" along normal blind 2 contours L40 L41 L42 L43 bodies 2 in component "lid"
extrude "Extrude13" add sketch "Sketch5 (2)" along normal blind 7.5 contours L10 L12 L13 L14 L15 L19 | L10 L17 L20 L21 L22 L23 L39 | L10 L24 L25 L26 L27 L31 L37 | L10 L29 L32 L33 L34 L35 bodies 2 in component "lid"
extrude "Extrude14" add sketch "Sketch5 (2)" along normal blind 5 contours L10 L13 L16 L17 L18 L19 L23 bodies 2 in component "lid"
extrude "Extrude15" add sketch "Sketch5 (2)" along normal blind 2.5 contours L10 L21 L27 L36 L37 L38 L39 bodies 2 in component "lid"
extrude "Extrude16" add sketch "Sketch5 (2)" along normal blind 4.5 contours L10 L25 L28 L29 L30 L31 L35 bodies 2 in component "lid"
chamfer "Chamfer2" distance 1.5 angle 45 1 edges at (20.5, 32.3, -6) on bodies 2 in component "lid"
chamfer "Chamfer2" distance 1.5 angle 45 1 edges at (6, 32.3, -6) on bodies 2 in component "lid"
component "bottom" placed x (1, 0, 0) y (0, 1, 0) z (0, 0, 1) at (0.284, -0.5603, -1.1095)
component "lid" placed x (1, 0, 0) y (0, 1, 0) z (0, 0, 1) at (-0.716, 1.4397, 14.0905)
equation "wall_thickness = 3 mm"
equation "width = 32.1 mm"
equation "length = 43 mm"
equation "height = 12 mm"
equation "tolerance = 0.1 mm"
equation "d6 = width + 2 * wall_thickness + 2 * tolerance"
equation "d7 = length + 2 * wall_thickness + 2 * tolerance"
equation "d8 = wall_thickness"
equation "d10 = -wall_thickness"
equation "d11 = height + 2 * tolerance"
equation "d13 = wall_thickness + tolerance + 2 mm"
equation "d14 = wall_thickness + 4.2 mm"
equation "d17 = wall_thickness + tolerance + 20 mm"
equation "d20 = wall_thickness + tolerance + 4 mm"
equation "d23 = -wall_thickness"
equation "d27 = d26"
equation "d28 = d26"
equation "d29 = d26"
equation "d34 = wall_thickness / 2"
equation "d35 = wall_thickness / 2"
equation "d48 = -wall_thickness"
equation "d64 = d62"
equation "d65 = d61"
equation "d66 = d60"
equation "d72 = -wall_thickness"
equation "d75 = wall_thickness / 2"
equation "d77 = wall_thickness / 2"
equation "d78 = wall_thickness"
equation "d84 = d83"
equation "lid_thickness = 2.5 mm"
equation "d220 = lid_thickness"
equation "d223 = wall_thickness / 2"
equation "d305 = wall_thickness + tolerance"
equation "d306 = wall_thickness"
equation "d307 = 4 mm - tolerance"
equation "d310 = wall_thickness + tolerance"
equation "d311 = 3 mm - tolerance"
equation "d316 = wall_thickness"
equation "d317 = wall_thickness"
equation "d319 = wall_thickness + 1 mm"
